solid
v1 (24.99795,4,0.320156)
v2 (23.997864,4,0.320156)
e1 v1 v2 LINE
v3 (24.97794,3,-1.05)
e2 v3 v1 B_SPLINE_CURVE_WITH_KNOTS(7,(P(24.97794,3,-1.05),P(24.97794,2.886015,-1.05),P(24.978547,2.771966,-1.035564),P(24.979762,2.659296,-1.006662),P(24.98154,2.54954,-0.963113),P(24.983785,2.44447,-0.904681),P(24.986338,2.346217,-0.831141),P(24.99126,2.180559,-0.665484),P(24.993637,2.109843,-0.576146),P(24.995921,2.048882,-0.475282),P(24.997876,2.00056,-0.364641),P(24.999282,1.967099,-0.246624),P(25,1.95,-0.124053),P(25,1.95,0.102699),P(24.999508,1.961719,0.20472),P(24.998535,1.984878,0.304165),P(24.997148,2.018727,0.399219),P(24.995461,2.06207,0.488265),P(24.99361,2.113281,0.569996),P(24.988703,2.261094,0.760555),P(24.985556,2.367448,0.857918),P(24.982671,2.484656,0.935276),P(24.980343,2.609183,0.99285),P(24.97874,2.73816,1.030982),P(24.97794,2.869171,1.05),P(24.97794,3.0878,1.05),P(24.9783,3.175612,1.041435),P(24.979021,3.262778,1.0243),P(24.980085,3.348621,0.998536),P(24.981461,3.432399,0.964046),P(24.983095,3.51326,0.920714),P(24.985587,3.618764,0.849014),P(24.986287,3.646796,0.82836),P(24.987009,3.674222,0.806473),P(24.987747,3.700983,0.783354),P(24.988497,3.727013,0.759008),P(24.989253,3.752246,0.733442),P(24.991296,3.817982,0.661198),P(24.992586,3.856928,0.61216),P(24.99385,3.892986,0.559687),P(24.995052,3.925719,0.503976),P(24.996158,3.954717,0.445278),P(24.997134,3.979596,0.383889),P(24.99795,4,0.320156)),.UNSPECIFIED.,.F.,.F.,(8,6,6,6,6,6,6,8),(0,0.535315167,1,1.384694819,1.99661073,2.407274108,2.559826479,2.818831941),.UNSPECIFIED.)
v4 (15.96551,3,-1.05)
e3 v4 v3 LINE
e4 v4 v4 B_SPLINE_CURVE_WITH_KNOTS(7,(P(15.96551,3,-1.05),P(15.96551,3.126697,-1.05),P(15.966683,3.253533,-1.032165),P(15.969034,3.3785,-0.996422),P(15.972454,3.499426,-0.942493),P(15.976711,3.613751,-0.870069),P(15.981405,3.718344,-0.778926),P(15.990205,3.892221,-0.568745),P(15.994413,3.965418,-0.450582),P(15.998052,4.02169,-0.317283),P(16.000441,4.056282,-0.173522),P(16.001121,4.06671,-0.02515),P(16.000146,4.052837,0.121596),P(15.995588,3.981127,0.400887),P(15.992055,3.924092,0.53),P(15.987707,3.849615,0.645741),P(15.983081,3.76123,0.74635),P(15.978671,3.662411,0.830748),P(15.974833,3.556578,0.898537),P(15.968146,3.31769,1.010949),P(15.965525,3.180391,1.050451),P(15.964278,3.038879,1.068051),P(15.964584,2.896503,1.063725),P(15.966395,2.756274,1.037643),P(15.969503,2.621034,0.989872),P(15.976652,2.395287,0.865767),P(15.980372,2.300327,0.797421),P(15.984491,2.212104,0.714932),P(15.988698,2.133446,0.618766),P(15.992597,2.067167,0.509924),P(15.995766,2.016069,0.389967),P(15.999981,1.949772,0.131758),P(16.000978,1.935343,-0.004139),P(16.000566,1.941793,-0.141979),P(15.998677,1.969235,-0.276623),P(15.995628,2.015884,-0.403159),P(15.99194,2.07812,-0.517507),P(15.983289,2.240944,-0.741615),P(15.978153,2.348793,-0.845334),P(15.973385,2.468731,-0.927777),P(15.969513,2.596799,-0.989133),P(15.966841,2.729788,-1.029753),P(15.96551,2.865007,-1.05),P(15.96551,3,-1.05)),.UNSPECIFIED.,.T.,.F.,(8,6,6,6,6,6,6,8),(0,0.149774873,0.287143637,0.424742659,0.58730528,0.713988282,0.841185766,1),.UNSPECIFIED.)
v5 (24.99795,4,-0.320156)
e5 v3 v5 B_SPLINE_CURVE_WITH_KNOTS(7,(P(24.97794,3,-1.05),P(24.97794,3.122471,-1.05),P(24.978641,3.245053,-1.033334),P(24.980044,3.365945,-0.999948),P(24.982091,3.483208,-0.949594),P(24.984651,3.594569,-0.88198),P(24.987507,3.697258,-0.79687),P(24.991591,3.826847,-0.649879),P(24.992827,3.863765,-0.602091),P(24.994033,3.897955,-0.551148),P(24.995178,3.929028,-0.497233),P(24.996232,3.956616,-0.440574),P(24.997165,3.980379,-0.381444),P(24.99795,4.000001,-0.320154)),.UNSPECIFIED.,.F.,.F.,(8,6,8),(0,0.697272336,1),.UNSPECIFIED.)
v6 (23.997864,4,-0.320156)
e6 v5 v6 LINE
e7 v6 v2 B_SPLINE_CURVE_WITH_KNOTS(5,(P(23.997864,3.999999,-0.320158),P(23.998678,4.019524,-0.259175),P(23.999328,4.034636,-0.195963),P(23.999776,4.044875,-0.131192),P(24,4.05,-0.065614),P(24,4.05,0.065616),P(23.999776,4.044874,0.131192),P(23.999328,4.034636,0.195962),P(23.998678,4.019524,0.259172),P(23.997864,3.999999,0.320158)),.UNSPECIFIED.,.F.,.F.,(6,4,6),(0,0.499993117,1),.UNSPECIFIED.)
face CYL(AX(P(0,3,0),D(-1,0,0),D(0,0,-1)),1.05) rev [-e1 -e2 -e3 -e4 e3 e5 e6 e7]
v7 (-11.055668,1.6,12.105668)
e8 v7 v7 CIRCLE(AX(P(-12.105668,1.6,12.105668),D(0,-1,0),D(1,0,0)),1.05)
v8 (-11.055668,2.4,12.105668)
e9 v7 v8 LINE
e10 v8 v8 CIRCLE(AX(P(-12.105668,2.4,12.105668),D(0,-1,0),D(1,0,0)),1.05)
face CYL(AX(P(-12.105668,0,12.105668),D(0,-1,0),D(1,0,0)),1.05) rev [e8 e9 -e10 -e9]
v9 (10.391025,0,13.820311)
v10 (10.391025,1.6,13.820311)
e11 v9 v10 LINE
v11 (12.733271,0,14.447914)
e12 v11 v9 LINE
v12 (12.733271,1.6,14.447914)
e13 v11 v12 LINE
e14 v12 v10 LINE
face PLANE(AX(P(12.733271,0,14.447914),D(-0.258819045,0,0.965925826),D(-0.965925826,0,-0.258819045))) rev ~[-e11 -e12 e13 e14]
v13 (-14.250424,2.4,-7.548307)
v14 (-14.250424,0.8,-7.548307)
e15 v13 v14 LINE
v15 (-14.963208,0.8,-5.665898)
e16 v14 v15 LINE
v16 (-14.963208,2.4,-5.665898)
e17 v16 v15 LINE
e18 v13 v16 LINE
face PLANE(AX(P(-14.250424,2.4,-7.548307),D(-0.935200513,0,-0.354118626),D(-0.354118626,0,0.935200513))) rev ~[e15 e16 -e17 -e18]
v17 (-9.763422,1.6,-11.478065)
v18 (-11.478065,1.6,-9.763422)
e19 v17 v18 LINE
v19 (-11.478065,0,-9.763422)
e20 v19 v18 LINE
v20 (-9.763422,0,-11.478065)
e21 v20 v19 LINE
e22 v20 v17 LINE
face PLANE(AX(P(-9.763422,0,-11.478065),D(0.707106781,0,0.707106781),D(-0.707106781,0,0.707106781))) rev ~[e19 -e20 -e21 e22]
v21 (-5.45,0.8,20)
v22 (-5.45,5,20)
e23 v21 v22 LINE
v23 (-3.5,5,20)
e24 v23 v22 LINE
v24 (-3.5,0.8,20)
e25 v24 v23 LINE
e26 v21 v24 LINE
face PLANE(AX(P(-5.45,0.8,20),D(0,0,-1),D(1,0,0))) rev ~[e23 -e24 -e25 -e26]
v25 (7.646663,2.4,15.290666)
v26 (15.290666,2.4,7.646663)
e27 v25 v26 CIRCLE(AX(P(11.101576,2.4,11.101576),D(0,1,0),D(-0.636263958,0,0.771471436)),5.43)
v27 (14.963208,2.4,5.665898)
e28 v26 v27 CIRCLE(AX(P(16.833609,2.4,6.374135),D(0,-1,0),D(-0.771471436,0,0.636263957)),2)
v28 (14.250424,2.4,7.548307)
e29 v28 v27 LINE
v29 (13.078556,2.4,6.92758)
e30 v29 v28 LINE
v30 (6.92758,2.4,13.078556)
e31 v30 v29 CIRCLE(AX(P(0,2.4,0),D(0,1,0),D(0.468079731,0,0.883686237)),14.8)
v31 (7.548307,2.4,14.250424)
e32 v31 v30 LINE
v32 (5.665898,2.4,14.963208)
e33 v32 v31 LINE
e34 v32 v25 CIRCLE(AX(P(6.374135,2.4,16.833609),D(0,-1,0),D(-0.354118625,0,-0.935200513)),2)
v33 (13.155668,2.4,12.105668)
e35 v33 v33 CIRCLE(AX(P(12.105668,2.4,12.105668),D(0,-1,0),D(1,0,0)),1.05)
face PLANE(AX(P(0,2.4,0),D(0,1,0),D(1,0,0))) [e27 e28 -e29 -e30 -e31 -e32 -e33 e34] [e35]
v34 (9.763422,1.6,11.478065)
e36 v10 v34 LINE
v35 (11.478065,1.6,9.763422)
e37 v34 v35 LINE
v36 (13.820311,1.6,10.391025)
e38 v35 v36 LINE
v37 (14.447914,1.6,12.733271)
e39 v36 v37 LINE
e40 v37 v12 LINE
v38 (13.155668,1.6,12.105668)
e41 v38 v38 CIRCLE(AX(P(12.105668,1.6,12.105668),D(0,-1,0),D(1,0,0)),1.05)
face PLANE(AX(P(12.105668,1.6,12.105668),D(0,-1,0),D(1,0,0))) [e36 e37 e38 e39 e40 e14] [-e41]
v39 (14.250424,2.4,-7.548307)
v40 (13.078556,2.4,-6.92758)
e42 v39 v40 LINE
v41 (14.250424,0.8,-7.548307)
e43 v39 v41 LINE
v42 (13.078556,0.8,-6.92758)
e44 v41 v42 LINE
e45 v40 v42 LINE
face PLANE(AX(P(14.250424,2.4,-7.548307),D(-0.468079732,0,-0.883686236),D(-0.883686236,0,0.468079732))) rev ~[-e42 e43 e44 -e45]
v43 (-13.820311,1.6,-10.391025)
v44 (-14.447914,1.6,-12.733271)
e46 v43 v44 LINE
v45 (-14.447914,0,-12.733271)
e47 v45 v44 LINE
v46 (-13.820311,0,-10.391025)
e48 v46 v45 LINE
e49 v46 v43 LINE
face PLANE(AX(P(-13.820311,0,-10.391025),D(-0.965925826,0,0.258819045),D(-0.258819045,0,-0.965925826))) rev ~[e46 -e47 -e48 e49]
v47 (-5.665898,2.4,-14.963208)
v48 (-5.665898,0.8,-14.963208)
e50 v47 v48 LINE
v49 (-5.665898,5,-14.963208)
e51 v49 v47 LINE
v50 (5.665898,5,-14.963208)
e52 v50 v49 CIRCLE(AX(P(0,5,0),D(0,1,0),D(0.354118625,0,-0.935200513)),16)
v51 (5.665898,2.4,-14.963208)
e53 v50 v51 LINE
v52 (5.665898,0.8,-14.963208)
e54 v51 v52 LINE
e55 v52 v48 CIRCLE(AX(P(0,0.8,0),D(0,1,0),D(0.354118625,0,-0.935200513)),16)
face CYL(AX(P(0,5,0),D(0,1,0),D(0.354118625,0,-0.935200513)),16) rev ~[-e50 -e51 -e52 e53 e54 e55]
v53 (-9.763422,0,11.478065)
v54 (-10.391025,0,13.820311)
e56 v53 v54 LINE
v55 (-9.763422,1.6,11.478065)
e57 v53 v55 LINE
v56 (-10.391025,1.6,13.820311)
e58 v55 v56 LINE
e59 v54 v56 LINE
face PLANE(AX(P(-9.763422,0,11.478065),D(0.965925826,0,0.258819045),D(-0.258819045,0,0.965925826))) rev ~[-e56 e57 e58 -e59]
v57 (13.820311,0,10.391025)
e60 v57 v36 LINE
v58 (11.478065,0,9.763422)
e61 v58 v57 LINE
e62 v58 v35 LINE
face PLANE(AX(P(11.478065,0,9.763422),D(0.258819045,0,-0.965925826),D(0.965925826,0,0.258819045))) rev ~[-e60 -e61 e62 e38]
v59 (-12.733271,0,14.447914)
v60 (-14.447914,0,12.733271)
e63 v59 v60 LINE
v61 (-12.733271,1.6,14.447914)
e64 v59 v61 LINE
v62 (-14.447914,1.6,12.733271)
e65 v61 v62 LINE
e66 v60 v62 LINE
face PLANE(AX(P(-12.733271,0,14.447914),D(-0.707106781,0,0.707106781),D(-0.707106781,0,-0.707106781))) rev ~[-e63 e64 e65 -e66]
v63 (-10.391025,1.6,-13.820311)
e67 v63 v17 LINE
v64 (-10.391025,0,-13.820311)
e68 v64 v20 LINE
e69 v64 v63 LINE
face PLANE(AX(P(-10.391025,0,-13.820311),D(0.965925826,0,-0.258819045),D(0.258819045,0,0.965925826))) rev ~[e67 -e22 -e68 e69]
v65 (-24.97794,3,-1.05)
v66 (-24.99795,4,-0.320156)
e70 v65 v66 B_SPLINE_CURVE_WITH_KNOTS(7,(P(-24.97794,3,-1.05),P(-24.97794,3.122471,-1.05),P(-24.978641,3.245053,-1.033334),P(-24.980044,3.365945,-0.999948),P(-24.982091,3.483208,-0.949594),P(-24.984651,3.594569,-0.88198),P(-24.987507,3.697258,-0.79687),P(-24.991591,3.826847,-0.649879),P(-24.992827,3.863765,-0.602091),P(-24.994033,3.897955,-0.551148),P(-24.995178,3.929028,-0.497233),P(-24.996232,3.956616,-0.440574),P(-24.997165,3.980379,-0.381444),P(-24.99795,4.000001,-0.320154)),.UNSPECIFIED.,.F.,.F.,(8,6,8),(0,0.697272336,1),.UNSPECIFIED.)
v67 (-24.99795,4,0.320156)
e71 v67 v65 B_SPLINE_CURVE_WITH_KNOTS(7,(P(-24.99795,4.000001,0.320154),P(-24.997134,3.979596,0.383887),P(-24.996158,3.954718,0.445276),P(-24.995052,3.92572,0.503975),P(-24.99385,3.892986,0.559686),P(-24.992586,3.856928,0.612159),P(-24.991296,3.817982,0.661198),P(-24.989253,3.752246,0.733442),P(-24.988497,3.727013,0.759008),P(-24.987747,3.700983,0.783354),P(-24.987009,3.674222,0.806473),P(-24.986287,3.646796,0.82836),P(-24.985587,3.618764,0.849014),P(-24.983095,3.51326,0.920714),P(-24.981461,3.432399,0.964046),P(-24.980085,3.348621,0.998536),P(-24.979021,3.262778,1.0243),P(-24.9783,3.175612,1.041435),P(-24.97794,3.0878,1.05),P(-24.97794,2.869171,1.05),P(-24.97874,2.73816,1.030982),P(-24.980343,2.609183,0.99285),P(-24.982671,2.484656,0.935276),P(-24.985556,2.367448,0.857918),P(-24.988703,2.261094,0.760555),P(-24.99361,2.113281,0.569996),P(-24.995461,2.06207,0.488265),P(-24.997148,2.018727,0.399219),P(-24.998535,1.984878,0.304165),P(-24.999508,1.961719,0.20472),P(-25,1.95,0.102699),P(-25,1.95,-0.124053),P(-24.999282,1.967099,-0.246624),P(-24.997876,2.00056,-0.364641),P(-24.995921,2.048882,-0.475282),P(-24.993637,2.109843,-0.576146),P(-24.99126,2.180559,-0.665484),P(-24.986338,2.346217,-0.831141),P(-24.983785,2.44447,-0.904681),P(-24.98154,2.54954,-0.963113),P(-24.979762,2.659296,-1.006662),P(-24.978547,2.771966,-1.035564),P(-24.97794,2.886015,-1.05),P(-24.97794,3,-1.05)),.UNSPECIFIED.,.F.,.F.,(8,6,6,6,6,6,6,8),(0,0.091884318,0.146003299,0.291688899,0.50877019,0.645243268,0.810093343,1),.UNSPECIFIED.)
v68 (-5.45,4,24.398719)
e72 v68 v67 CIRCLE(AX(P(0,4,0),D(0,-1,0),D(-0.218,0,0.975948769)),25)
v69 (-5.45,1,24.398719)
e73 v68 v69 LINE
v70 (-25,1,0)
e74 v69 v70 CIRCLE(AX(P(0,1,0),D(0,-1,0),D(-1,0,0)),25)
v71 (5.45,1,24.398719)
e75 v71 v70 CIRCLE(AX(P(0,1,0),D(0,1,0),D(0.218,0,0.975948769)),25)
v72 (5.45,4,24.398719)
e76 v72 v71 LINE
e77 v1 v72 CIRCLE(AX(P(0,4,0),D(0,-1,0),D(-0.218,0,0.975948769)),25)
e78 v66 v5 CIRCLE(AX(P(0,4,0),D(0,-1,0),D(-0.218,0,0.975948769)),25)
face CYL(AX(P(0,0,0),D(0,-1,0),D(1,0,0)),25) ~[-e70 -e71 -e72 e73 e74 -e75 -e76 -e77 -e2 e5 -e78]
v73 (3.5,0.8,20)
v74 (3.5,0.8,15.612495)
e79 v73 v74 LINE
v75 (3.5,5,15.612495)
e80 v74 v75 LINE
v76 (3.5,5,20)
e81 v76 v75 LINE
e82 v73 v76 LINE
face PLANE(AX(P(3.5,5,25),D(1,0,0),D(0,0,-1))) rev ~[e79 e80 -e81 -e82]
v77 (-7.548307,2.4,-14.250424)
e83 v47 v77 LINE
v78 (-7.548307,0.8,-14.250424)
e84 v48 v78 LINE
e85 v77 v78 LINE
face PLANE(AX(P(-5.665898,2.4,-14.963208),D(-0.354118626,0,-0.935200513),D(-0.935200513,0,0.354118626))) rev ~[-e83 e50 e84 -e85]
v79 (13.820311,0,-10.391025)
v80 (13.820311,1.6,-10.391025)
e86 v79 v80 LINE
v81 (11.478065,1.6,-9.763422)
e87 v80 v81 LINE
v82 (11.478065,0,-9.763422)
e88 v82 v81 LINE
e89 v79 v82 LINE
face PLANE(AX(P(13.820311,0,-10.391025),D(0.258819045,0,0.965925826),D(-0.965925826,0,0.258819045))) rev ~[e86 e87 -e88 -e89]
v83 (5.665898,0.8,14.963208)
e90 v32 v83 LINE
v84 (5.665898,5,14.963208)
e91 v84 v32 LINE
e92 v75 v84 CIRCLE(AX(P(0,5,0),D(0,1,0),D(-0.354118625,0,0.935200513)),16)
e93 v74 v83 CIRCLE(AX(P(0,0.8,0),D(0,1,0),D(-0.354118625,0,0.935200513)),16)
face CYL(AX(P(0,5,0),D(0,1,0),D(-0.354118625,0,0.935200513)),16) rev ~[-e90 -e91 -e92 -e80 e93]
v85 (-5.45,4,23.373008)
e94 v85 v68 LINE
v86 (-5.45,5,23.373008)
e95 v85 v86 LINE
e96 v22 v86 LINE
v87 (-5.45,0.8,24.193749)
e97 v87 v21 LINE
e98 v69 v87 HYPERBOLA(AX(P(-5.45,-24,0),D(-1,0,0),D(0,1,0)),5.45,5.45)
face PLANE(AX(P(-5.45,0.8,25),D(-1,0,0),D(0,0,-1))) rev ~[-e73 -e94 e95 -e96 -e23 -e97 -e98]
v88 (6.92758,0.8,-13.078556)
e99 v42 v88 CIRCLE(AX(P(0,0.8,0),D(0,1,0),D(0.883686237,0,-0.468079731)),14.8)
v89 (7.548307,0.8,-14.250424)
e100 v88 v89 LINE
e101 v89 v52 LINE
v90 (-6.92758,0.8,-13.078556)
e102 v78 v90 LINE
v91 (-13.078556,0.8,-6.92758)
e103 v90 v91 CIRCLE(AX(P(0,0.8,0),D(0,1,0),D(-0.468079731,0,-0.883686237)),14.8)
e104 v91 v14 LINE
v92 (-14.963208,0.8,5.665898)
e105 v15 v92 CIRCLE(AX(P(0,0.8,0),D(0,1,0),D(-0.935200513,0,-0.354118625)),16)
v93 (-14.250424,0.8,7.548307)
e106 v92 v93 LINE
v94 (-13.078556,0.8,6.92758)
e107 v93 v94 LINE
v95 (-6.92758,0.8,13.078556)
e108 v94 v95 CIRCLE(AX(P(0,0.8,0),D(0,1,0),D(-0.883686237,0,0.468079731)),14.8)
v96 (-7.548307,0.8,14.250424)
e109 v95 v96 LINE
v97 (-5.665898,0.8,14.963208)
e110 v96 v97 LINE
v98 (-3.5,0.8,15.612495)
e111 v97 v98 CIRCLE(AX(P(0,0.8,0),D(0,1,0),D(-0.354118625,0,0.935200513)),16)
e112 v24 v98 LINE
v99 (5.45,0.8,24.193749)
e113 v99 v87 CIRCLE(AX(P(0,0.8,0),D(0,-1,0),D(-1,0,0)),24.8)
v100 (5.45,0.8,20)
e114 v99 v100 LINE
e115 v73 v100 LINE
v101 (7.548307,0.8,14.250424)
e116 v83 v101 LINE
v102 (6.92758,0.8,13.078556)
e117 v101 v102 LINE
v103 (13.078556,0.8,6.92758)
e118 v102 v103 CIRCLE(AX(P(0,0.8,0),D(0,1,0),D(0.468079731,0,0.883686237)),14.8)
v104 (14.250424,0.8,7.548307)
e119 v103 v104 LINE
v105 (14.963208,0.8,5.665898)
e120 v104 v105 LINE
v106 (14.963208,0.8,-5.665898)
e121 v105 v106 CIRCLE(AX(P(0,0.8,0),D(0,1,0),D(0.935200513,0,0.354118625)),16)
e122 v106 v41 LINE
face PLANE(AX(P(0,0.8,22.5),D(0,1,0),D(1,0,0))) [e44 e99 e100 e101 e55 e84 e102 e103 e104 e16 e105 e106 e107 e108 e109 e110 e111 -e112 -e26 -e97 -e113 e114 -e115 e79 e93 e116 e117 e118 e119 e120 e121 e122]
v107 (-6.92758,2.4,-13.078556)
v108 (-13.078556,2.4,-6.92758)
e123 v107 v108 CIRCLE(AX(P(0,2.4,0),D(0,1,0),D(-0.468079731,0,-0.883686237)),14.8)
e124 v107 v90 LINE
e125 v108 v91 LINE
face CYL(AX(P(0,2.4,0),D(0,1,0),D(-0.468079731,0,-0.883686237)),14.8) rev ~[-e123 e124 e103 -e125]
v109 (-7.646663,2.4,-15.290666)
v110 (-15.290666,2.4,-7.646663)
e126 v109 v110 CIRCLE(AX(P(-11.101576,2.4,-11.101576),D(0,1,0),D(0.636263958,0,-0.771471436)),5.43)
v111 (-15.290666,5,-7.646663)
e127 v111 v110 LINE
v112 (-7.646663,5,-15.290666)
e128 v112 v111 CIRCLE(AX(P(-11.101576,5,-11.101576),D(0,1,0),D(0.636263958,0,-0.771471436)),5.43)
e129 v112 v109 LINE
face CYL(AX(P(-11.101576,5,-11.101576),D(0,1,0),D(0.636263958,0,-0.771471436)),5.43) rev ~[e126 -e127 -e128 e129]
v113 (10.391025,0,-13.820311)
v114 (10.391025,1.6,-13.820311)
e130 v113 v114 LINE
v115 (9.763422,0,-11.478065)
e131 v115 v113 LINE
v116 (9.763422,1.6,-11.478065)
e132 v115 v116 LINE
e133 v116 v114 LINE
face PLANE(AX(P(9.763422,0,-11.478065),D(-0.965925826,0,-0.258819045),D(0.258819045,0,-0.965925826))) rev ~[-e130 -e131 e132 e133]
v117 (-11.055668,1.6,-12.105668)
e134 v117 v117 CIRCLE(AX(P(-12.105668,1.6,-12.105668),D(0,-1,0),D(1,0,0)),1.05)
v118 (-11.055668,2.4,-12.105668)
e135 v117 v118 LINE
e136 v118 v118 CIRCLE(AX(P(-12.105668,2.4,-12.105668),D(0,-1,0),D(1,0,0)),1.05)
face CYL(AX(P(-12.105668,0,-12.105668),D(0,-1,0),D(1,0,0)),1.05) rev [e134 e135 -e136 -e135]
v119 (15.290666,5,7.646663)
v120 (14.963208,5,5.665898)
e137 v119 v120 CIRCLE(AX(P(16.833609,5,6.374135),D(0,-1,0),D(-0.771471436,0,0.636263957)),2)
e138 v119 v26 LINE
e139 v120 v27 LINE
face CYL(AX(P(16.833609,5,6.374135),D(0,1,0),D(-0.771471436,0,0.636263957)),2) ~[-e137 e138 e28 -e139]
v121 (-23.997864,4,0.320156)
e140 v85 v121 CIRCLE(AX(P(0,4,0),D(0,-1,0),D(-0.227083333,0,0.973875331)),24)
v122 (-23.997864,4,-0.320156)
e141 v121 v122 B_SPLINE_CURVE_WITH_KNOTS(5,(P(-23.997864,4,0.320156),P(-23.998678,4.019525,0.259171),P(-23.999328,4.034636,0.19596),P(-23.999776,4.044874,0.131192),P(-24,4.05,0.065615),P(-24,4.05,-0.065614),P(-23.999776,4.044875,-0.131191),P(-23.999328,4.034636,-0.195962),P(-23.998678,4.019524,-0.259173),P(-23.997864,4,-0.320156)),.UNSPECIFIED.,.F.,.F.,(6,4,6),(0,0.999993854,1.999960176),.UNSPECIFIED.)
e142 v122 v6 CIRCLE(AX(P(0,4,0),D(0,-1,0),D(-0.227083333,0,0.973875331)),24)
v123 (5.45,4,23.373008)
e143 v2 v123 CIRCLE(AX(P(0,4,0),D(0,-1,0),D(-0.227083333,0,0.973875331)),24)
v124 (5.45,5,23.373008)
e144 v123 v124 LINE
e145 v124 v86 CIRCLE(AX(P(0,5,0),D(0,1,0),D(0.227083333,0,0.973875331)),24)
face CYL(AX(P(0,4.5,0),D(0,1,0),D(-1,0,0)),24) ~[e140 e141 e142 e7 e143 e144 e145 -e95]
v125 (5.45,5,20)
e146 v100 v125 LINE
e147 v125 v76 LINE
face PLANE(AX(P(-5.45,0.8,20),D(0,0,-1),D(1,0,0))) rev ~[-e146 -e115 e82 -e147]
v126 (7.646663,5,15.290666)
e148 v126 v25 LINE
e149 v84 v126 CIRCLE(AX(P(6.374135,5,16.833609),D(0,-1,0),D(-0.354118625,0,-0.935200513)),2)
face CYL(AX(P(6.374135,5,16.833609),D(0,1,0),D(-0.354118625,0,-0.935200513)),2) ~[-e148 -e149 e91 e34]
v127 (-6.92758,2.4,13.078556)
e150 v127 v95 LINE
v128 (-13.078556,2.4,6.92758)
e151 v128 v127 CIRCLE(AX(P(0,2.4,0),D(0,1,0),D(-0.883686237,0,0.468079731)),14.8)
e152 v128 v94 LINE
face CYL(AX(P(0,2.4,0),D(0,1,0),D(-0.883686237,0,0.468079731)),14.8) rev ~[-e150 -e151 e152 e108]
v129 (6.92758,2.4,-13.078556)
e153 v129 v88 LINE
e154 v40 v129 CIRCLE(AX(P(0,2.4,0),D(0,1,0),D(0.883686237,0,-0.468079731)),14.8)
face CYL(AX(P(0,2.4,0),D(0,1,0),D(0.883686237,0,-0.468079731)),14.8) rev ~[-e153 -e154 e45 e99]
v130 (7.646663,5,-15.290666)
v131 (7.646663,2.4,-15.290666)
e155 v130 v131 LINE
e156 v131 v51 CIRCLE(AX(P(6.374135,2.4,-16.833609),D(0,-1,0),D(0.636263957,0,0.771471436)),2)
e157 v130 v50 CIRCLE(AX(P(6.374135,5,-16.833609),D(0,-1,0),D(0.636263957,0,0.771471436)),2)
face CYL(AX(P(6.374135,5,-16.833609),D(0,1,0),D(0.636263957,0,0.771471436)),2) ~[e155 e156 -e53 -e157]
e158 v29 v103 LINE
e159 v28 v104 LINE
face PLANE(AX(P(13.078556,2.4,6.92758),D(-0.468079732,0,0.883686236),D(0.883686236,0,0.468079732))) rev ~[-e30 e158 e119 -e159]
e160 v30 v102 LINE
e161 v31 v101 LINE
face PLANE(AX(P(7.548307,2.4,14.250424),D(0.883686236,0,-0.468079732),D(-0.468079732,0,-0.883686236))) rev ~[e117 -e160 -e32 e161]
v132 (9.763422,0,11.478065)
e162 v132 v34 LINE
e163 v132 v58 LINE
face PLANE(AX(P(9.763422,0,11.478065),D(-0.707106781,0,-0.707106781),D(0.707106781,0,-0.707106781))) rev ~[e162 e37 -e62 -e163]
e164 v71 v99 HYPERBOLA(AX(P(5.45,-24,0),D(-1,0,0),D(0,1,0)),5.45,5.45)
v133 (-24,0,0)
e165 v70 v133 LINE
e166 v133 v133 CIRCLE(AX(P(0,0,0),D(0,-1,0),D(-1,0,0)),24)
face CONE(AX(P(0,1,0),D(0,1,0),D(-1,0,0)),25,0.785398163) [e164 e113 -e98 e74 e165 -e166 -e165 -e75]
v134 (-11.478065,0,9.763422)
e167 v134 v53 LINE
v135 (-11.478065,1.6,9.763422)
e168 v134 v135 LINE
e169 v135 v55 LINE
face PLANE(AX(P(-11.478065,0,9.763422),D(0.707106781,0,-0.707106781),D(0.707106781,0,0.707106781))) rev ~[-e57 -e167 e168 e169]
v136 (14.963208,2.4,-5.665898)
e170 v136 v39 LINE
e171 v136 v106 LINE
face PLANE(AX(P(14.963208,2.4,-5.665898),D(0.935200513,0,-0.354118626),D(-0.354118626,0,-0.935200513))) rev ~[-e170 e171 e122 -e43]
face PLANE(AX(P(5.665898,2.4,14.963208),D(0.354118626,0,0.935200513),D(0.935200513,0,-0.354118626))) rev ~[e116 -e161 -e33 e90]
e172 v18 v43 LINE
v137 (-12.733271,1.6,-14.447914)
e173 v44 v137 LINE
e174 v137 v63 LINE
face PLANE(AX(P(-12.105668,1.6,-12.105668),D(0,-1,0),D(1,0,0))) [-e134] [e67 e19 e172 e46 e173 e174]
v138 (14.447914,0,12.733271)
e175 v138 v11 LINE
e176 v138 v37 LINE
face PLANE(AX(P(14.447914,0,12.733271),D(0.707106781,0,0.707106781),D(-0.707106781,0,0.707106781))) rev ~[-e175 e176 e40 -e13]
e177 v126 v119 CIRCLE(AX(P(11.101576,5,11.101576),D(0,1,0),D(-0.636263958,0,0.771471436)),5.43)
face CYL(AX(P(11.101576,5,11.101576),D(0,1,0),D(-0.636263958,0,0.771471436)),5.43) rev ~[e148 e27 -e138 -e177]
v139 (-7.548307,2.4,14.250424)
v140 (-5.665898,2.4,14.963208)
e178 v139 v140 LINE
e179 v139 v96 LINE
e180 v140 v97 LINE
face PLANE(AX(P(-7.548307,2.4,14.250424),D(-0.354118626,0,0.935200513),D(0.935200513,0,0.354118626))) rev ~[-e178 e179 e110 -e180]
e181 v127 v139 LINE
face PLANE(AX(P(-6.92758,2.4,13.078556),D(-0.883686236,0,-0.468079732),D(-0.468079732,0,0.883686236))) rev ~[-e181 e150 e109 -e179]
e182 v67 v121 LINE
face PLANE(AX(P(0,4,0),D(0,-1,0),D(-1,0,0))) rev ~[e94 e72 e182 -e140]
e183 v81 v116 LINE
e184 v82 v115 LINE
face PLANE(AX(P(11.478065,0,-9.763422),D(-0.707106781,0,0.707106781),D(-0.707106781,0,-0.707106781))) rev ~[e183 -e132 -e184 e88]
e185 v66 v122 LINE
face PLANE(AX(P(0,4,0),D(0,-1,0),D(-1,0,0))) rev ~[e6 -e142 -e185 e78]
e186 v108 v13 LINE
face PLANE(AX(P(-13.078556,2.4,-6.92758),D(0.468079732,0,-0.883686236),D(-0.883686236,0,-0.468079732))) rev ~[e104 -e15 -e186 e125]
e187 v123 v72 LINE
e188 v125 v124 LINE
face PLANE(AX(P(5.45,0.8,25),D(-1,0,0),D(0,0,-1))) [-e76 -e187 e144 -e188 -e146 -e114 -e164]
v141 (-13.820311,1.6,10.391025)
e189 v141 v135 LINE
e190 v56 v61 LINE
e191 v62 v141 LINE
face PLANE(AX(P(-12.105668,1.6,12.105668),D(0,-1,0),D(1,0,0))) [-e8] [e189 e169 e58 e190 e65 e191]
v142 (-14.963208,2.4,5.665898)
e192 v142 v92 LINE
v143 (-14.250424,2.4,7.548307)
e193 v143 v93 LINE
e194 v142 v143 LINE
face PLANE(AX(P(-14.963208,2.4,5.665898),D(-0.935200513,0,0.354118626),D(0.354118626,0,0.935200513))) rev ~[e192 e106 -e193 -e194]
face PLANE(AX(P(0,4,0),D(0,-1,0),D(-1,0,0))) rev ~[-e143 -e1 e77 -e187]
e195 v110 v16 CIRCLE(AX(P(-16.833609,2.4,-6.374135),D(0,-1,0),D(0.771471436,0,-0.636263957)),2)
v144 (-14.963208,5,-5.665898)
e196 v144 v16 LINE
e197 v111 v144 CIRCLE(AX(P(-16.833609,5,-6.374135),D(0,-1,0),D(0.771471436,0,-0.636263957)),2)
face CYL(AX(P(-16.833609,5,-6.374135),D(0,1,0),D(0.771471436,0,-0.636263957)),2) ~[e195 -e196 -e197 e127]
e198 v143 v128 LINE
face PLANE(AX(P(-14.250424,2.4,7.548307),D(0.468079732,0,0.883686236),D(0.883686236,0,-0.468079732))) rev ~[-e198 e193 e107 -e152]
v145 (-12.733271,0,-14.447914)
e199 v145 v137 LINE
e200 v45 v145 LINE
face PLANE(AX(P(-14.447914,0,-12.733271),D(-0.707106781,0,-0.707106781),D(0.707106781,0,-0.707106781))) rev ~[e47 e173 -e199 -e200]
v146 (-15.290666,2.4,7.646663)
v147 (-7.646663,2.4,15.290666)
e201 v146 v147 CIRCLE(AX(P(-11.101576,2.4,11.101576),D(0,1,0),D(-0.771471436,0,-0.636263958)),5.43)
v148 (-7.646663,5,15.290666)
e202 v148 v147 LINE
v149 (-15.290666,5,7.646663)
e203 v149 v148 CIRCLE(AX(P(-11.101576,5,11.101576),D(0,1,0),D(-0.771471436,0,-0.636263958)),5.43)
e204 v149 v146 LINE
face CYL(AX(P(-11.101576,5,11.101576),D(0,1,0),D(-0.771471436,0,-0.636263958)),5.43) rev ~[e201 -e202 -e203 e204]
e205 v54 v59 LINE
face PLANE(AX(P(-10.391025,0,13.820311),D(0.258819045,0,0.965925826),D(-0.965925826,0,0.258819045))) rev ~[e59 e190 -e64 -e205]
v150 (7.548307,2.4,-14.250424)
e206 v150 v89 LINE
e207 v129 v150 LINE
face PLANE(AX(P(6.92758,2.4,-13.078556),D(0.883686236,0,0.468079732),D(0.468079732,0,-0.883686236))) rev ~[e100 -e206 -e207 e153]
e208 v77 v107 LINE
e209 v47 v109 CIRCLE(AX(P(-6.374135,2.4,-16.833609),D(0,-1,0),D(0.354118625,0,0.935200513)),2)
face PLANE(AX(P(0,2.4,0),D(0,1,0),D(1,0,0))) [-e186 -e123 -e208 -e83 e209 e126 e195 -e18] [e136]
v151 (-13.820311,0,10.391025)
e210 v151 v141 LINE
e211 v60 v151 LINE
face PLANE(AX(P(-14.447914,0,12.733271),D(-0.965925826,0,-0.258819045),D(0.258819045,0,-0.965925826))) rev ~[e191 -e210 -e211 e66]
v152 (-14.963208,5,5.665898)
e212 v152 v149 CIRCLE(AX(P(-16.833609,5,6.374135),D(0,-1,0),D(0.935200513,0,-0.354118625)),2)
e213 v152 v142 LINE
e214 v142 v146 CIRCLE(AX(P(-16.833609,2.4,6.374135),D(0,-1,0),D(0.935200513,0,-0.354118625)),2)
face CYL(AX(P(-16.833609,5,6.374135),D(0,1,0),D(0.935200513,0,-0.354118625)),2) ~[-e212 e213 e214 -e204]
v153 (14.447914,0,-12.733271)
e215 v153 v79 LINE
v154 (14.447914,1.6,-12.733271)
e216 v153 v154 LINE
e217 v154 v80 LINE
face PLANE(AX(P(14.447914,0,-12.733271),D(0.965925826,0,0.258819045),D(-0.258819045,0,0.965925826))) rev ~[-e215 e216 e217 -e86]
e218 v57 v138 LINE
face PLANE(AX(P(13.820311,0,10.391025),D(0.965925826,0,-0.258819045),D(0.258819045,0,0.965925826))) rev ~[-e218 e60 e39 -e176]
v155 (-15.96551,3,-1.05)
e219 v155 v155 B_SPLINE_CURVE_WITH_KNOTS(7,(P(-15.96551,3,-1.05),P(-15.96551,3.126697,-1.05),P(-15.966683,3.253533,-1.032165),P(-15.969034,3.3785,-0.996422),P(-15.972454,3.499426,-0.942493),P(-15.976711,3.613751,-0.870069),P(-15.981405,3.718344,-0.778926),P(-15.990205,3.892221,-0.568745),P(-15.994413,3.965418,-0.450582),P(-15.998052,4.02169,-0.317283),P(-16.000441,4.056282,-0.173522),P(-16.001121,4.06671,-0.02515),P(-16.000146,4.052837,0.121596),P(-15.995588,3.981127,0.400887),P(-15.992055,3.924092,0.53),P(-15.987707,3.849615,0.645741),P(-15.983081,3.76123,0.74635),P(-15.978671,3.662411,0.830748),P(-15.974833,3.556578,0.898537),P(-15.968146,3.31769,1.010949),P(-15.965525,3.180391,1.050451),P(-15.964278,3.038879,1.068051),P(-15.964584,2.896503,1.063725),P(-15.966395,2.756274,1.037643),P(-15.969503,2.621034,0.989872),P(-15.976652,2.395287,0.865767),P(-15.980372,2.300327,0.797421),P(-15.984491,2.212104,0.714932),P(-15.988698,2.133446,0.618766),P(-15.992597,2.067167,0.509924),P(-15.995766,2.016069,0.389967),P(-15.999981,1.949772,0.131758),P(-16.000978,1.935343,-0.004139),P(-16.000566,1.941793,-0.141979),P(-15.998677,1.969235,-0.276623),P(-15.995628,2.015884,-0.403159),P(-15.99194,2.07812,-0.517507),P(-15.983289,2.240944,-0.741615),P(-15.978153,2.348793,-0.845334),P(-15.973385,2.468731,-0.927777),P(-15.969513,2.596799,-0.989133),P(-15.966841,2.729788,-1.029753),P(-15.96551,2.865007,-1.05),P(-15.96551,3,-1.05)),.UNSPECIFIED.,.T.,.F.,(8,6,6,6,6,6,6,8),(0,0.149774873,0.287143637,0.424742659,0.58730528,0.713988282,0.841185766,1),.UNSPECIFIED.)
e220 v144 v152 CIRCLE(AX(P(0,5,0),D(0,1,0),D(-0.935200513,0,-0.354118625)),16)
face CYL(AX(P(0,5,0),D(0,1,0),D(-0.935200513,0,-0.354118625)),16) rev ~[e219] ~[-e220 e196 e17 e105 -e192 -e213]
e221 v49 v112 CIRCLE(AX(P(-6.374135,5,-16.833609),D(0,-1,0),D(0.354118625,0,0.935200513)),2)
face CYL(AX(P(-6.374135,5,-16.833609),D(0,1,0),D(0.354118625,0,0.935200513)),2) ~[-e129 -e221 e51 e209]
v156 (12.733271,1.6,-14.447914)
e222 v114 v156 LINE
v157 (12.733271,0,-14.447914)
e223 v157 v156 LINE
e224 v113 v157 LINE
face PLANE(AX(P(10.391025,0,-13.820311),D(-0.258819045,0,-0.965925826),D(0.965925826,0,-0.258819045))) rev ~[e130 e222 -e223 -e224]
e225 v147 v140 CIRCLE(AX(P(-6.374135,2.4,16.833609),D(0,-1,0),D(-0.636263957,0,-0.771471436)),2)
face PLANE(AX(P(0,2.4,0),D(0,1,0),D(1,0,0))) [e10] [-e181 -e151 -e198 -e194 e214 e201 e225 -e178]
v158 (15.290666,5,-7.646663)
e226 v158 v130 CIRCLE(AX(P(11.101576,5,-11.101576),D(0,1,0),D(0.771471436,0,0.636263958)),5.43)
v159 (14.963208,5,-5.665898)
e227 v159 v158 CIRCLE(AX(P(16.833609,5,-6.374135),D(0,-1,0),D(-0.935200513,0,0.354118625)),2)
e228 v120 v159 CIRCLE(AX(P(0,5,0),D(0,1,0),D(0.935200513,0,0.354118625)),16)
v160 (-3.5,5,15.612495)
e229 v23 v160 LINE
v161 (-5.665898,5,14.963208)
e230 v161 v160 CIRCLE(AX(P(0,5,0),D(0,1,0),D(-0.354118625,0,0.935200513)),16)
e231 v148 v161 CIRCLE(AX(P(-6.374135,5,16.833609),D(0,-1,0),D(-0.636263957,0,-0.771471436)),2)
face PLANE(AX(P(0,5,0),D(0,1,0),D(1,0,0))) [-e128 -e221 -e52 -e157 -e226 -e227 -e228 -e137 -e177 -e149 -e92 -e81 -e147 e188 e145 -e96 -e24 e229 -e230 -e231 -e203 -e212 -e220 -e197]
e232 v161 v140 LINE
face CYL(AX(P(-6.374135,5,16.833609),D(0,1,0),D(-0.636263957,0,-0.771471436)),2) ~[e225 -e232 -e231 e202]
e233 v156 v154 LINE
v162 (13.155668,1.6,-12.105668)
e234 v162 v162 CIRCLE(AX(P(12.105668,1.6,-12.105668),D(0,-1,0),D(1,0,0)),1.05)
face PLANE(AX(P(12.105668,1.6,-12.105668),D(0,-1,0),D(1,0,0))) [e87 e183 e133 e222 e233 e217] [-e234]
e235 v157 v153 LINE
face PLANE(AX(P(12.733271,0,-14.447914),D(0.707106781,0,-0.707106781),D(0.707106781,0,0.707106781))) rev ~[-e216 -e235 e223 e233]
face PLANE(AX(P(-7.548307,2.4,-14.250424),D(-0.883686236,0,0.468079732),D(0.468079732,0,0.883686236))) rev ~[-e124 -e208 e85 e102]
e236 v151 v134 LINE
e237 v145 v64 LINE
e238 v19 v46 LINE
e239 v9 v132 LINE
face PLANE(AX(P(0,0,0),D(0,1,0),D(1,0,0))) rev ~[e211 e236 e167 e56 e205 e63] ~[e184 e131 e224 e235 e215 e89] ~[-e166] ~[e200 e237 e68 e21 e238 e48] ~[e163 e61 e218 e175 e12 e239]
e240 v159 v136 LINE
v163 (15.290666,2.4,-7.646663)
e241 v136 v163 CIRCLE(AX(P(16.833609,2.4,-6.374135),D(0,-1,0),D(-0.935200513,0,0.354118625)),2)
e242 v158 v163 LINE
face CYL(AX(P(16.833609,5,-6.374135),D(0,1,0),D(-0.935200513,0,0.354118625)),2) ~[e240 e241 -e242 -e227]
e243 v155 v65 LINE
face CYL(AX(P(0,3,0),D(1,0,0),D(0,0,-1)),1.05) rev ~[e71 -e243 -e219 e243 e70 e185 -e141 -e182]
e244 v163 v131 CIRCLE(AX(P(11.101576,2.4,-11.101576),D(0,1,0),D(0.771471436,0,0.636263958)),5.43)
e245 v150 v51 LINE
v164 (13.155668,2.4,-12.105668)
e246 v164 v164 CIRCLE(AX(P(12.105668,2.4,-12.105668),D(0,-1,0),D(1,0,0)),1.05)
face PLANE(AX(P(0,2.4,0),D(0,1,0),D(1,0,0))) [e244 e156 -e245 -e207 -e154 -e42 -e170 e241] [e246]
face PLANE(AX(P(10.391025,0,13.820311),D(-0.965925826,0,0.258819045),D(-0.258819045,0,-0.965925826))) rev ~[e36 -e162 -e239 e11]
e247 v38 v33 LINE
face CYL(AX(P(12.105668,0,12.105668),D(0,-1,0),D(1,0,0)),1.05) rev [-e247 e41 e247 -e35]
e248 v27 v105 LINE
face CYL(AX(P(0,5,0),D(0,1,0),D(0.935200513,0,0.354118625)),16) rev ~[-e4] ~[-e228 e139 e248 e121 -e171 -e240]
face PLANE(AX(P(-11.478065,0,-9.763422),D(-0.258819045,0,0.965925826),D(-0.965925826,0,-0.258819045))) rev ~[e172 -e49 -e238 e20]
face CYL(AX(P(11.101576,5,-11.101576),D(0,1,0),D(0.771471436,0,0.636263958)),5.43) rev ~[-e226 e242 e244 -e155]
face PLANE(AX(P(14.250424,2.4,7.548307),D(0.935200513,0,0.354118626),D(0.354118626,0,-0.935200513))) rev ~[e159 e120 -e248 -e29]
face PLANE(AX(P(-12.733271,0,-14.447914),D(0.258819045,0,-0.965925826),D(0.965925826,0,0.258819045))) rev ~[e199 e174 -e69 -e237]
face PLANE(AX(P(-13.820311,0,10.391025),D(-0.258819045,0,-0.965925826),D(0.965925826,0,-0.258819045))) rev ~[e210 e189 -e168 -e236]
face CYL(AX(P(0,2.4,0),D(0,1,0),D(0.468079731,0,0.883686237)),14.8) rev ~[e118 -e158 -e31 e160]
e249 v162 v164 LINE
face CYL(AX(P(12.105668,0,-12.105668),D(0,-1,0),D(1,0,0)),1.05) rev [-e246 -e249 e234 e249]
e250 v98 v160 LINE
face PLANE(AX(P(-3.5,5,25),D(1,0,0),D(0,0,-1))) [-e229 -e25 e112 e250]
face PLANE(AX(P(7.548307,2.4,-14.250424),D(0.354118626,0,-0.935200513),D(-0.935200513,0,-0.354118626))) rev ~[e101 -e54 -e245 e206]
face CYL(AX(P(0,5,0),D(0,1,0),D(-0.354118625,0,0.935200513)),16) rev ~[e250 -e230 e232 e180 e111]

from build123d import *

# Parameters (mm, degrees)
SKETCH1_R               = 25
BOSS_EXTRUDE1_DEPTH     = 5
CUT_EXTRUDE1_START      = 5
CUT_EXTRUDE1_DEPTH      = 2.6
SKETCH1_5_R             = 1.05
CUT_EXTRUDE2_DEPTH      = 6
CUT_EXTRUDE4_DEPTH      = 1.6
CUT_EXTRUDE5_DEPTH      = 1.6
SKETCH5_W               = 7
SKETCH5_H               = 25
CUT_EXTRUDE6_DEPTH      = 4.2
SKETCH6_W               = 10.9
SKETCH6_H               = 5
CUT_EXTRUDE7_DEPTH      = 5.2
SKETCH7_W               = 1
SKETCH7_H               = 1
SKETCH8_R               = 1.05
CUT_EXTRUDE8_DEPTH      = 26
CUT_EXTRUDE8_DEPTH_BACK = 26


with BuildPart() as part:
    # Sketch1 → Boss-Extrude1 (new body)
    with BuildSketch(Plane(origin=(0, 0, 0), x_dir=(1, 0, 0), z_dir=(0, 1, 0))):
        Circle(SKETCH1_R)
    extrude(amount=BOSS_EXTRUDE1_DEPTH)

    # Sketch1<4> → Cut-Extrude1 (cut)
    with BuildSketch(Plane(origin=(0, 0, 0), x_dir=(1, 0, 0), z_dir=(0, 1, 0)).offset(CUT_EXTRUDE1_START)):
        with BuildLine():
            ThreePointArc((-7.646663173, 15.290666359), (-14.941166286, 14.941166286), (-15.290666359, 7.646663173))
            ThreePointArc((-15.290666359, 7.646663173), (-14.860391858, 6.700345618), (-14.963208205, 5.665898006))
            ThreePointArc((-14.963208205, 5.665898006), (-16, 0), (-14.963208205, -5.665898006))
            ThreePointArc((-14.963208205, -5.665898006), (-14.860391858, -6.700345618), (-15.290666359, -7.646663173))
            ThreePointArc((-15.290666359, -7.646663173), (-14.941166286, -14.941166286), (-7.646663173, -15.290666359))
            ThreePointArc((-7.646663173, -15.290666359), (-6.700345618, -14.860391858), (-5.665898006, -14.963208205))
            ThreePointArc((-5.665898006, -14.963208205), (0, -16), (5.665898006, -14.963208205))
            ThreePointArc((5.665898006, -14.963208205), (6.700345618, -14.860391858), (7.646663173, -15.290666359))
            ThreePointArc((7.646663173, -15.290666359), (14.941166286, -14.941166286), (15.290666359, -7.646663173))
            ThreePointArc((15.290666359, -7.646663173), (14.860391858, -6.700345618), (14.963208205, -5.665898006))
            ThreePointArc((14.963208205, -5.665898006), (16, 0), (14.963208205, 5.665898006))
            ThreePointArc((14.963208205, 5.665898006), (14.860391858, 6.700345618), (15.290666359, 7.646663173))
            ThreePointArc((15.290666359, 7.646663173), (14.941166286, 14.941166286), (7.646663173, 15.290666359))
            ThreePointArc((7.646663173, 15.290666359), (6.700345618, 14.860391858), (5.665898006, 14.963208205))
            ThreePointArc((5.665898006, 14.963208205), (0, 16), (-5.665898006, 14.963208205))
            ThreePointArc((-5.665898006, 14.963208205), (-6.700345618, 14.860391858), (-7.646663173, 15.290666359))
        make_face()
    extrude(amount=-CUT_EXTRUDE1_DEPTH, mode=Mode.SUBTRACT)

    # Sketch1<5> → Cut-Extrude2 (cut, through all)
    with BuildSketch(Plane(origin=(0, 0, 0), x_dir=(1, 0, 0), z_dir=(0, 1, 0))):
        with Locations((12.105668094, 12.105668094)):
            Circle(SKETCH1_5_R)
        with Locations((12.105668094, -12.105668094)):
            Circle(SKETCH1_5_R)
        with Locations((-12.105668094, -12.105668094)):
            Circle(SKETCH1_5_R)
        with Locations((-12.105668094, 12.105668094)):
            Circle(SKETCH1_5_R)
    extrude(amount=CUT_EXTRUDE2_DEPTH, mode=Mode.SUBTRACT)

    # Sketch3 → Cut-Extrude4 (cut)
    with BuildSketch(Plane(origin=(0, 2.4, 0), x_dir=(1, 0, 0), z_dir=(0, 1, 0))):
        with BuildLine():
            Line((-14.250424192, -7.548306686), (-13.078556304, -6.927580025))
            ThreePointArc((-13.078556304, -6.927580025), (-10.465180362, -10.465180362), (-6.927580025, -13.078556304))
            Line((-6.927580025, -13.078556304), (-7.548306686, -14.250424192))
            Line((-7.548306686, -14.250424192), (-5.665898006, -14.963208205))
            ThreePointArc((-5.665898006, -14.963208205), (0, -16), (5.665898006, -14.963208205))
            Line((5.665898006, -14.963208205), (7.548306686, -14.250424192))
            Line((7.548306686, -14.250424192), (6.927580025, -13.078556304))
            ThreePointArc((6.927580025, -13.078556304), (10.465180362, -10.465180362), (13.078556304, -6.927580025))
            Line((13.078556304, -6.927580025), (14.250424192, -7.548306686))
            Line((14.250424192, -7.548306686), (14.963208205, -5.665898006))
            ThreePointArc((14.963208205, -5.665898006), (16, 0), (14.963208205, 5.665898006))
            Line((14.963208205, 5.665898006), (14.250424192, 7.548306686))
            Line((14.250424192, 7.548306686), (13.078556304, 6.927580025))
            ThreePointArc((13.078556304, 6.927580025), (10.465180362, 10.465180362), (6.927580025, 13.078556304))
            Line((6.927580025, 13.078556304), (7.548306686, 14.250424192))
            Line((7.548306686, 14.250424192), (5.665898006, 14.963208205))
            ThreePointArc((5.665898006, 14.963208205), (0, 16), (-5.665898006, 14.963208205))
            Line((-5.665898006, 14.963208205), (-7.548306686, 14.250424192))
            Line((-7.548306686, 14.250424192), (-6.927580025, 13.078556304))
            ThreePointArc((-6.927580025, 13.078556304), (-10.465180362, 10.465180362), (-13.078556304, 6.927580025))
            Line((-13.078556304, 6.927580025), (-14.250424192, 7.548306686))
            Line((-14.250424192, 7.548306686), (-14.963208205, 5.665898006))
            ThreePointArc((-14.963208205, 5.665898006), (-16, 0), (-14.963208205, -5.665898006))
            Line((-14.963208205, -5.665898006), (-14.250424192, -7.548306686))
        make_face()
    extrude(amount=-CUT_EXTRUDE4_DEPTH, mode=Mode.SUBTRACT)

    # Sketch4 → Cut-Extrude5 (cut)
    with BuildSketch(Plane.XZ):
        Polygon((-10.391025274, 13.820310914), (-12.733270924, 14.447913744), (-14.447913744, 12.733270924), (-13.820310914, 10.391025274), (-11.478065263, 9.763422443), (-9.763422443, 11.478065263), align=None)
        Polygon((13.820310914, 10.391025274), (14.447913744, 12.733270924), (12.733270924, 14.447913744), (10.391025274, 13.820310914), (9.763422443, 11.478065263), (11.478065263, 9.763422443), align=None)
        Polygon((10.391025274, -13.820310914), (12.733270924, -14.447913744), (14.447913744, -12.733270924), (13.820310914, -10.391025274), (11.478065263, -9.763422443), (9.763422443, -11.478065263), align=None)
        Polygon((-13.820310914, -10.391025274), (-14.447913744, -12.733270924), (-12.733270924, -14.447913744), (-10.391025274, -13.820310914), (-9.763422443, -11.478065263), (-11.478065263, -9.763422443), align=None)
    extrude(amount=-CUT_EXTRUDE5_DEPTH, mode=Mode.SUBTRACT)

    # Sketch5 → Cut-Extrude6 (cut)
    with BuildSketch(Plane(origin=(0, 5, 0), x_dir=(1, 0, 0), z_dir=(0, 1, 0))):
        with Locations((0, -12.5)):
            Rectangle(SKETCH5_W, SKETCH5_H)
    extrude(amount=-CUT_EXTRUDE6_DEPTH, mode=Mode.SUBTRACT)

    # Sketch6 → Cut-Extrude7 (cut, through all)
    with BuildSketch(Plane(origin=(0, 0.8, 0), x_dir=(1, 0, 0), z_dir=(0, 1, 0))):
        with Locations((0, -22.5)):
            Rectangle(SKETCH6_W, SKETCH6_H)
    extrude(amount=CUT_EXTRUDE7_DEPTH, mode=Mode.SUBTRACT)

    # Sketch7 → Cut-Revolve1 (revolve, cut)
    with BuildSketch(Plane.XY):
        Polygon((-25, 1), (-24, 0), (-25, 0), align=None)
        with Locations((-24.5, 4.5)):
            Rectangle(SKETCH7_W, SKETCH7_H)
    revolve(axis=Axis((0, 5.25, 0), (0, -1, 0)), mode=Mode.SUBTRACT)

    # Sketch8 → Cut-Extrude8 (cut, two sides)
    with BuildSketch(Plane(origin=(0, 0, 0), x_dir=(0, 0, -1), z_dir=(1, 0, 0))) as cut_extrude8_sk:
        with Locations((0, 3)):
            Circle(SKETCH8_R)
    extrude(amount=CUT_EXTRUDE8_DEPTH, mode=Mode.SUBTRACT)
    extrude(cut_extrude8_sk.sketch, amount=-CUT_EXTRUDE8_DEPTH_BACK, mode=Mode.SUBTRACT)


solid = part.part
